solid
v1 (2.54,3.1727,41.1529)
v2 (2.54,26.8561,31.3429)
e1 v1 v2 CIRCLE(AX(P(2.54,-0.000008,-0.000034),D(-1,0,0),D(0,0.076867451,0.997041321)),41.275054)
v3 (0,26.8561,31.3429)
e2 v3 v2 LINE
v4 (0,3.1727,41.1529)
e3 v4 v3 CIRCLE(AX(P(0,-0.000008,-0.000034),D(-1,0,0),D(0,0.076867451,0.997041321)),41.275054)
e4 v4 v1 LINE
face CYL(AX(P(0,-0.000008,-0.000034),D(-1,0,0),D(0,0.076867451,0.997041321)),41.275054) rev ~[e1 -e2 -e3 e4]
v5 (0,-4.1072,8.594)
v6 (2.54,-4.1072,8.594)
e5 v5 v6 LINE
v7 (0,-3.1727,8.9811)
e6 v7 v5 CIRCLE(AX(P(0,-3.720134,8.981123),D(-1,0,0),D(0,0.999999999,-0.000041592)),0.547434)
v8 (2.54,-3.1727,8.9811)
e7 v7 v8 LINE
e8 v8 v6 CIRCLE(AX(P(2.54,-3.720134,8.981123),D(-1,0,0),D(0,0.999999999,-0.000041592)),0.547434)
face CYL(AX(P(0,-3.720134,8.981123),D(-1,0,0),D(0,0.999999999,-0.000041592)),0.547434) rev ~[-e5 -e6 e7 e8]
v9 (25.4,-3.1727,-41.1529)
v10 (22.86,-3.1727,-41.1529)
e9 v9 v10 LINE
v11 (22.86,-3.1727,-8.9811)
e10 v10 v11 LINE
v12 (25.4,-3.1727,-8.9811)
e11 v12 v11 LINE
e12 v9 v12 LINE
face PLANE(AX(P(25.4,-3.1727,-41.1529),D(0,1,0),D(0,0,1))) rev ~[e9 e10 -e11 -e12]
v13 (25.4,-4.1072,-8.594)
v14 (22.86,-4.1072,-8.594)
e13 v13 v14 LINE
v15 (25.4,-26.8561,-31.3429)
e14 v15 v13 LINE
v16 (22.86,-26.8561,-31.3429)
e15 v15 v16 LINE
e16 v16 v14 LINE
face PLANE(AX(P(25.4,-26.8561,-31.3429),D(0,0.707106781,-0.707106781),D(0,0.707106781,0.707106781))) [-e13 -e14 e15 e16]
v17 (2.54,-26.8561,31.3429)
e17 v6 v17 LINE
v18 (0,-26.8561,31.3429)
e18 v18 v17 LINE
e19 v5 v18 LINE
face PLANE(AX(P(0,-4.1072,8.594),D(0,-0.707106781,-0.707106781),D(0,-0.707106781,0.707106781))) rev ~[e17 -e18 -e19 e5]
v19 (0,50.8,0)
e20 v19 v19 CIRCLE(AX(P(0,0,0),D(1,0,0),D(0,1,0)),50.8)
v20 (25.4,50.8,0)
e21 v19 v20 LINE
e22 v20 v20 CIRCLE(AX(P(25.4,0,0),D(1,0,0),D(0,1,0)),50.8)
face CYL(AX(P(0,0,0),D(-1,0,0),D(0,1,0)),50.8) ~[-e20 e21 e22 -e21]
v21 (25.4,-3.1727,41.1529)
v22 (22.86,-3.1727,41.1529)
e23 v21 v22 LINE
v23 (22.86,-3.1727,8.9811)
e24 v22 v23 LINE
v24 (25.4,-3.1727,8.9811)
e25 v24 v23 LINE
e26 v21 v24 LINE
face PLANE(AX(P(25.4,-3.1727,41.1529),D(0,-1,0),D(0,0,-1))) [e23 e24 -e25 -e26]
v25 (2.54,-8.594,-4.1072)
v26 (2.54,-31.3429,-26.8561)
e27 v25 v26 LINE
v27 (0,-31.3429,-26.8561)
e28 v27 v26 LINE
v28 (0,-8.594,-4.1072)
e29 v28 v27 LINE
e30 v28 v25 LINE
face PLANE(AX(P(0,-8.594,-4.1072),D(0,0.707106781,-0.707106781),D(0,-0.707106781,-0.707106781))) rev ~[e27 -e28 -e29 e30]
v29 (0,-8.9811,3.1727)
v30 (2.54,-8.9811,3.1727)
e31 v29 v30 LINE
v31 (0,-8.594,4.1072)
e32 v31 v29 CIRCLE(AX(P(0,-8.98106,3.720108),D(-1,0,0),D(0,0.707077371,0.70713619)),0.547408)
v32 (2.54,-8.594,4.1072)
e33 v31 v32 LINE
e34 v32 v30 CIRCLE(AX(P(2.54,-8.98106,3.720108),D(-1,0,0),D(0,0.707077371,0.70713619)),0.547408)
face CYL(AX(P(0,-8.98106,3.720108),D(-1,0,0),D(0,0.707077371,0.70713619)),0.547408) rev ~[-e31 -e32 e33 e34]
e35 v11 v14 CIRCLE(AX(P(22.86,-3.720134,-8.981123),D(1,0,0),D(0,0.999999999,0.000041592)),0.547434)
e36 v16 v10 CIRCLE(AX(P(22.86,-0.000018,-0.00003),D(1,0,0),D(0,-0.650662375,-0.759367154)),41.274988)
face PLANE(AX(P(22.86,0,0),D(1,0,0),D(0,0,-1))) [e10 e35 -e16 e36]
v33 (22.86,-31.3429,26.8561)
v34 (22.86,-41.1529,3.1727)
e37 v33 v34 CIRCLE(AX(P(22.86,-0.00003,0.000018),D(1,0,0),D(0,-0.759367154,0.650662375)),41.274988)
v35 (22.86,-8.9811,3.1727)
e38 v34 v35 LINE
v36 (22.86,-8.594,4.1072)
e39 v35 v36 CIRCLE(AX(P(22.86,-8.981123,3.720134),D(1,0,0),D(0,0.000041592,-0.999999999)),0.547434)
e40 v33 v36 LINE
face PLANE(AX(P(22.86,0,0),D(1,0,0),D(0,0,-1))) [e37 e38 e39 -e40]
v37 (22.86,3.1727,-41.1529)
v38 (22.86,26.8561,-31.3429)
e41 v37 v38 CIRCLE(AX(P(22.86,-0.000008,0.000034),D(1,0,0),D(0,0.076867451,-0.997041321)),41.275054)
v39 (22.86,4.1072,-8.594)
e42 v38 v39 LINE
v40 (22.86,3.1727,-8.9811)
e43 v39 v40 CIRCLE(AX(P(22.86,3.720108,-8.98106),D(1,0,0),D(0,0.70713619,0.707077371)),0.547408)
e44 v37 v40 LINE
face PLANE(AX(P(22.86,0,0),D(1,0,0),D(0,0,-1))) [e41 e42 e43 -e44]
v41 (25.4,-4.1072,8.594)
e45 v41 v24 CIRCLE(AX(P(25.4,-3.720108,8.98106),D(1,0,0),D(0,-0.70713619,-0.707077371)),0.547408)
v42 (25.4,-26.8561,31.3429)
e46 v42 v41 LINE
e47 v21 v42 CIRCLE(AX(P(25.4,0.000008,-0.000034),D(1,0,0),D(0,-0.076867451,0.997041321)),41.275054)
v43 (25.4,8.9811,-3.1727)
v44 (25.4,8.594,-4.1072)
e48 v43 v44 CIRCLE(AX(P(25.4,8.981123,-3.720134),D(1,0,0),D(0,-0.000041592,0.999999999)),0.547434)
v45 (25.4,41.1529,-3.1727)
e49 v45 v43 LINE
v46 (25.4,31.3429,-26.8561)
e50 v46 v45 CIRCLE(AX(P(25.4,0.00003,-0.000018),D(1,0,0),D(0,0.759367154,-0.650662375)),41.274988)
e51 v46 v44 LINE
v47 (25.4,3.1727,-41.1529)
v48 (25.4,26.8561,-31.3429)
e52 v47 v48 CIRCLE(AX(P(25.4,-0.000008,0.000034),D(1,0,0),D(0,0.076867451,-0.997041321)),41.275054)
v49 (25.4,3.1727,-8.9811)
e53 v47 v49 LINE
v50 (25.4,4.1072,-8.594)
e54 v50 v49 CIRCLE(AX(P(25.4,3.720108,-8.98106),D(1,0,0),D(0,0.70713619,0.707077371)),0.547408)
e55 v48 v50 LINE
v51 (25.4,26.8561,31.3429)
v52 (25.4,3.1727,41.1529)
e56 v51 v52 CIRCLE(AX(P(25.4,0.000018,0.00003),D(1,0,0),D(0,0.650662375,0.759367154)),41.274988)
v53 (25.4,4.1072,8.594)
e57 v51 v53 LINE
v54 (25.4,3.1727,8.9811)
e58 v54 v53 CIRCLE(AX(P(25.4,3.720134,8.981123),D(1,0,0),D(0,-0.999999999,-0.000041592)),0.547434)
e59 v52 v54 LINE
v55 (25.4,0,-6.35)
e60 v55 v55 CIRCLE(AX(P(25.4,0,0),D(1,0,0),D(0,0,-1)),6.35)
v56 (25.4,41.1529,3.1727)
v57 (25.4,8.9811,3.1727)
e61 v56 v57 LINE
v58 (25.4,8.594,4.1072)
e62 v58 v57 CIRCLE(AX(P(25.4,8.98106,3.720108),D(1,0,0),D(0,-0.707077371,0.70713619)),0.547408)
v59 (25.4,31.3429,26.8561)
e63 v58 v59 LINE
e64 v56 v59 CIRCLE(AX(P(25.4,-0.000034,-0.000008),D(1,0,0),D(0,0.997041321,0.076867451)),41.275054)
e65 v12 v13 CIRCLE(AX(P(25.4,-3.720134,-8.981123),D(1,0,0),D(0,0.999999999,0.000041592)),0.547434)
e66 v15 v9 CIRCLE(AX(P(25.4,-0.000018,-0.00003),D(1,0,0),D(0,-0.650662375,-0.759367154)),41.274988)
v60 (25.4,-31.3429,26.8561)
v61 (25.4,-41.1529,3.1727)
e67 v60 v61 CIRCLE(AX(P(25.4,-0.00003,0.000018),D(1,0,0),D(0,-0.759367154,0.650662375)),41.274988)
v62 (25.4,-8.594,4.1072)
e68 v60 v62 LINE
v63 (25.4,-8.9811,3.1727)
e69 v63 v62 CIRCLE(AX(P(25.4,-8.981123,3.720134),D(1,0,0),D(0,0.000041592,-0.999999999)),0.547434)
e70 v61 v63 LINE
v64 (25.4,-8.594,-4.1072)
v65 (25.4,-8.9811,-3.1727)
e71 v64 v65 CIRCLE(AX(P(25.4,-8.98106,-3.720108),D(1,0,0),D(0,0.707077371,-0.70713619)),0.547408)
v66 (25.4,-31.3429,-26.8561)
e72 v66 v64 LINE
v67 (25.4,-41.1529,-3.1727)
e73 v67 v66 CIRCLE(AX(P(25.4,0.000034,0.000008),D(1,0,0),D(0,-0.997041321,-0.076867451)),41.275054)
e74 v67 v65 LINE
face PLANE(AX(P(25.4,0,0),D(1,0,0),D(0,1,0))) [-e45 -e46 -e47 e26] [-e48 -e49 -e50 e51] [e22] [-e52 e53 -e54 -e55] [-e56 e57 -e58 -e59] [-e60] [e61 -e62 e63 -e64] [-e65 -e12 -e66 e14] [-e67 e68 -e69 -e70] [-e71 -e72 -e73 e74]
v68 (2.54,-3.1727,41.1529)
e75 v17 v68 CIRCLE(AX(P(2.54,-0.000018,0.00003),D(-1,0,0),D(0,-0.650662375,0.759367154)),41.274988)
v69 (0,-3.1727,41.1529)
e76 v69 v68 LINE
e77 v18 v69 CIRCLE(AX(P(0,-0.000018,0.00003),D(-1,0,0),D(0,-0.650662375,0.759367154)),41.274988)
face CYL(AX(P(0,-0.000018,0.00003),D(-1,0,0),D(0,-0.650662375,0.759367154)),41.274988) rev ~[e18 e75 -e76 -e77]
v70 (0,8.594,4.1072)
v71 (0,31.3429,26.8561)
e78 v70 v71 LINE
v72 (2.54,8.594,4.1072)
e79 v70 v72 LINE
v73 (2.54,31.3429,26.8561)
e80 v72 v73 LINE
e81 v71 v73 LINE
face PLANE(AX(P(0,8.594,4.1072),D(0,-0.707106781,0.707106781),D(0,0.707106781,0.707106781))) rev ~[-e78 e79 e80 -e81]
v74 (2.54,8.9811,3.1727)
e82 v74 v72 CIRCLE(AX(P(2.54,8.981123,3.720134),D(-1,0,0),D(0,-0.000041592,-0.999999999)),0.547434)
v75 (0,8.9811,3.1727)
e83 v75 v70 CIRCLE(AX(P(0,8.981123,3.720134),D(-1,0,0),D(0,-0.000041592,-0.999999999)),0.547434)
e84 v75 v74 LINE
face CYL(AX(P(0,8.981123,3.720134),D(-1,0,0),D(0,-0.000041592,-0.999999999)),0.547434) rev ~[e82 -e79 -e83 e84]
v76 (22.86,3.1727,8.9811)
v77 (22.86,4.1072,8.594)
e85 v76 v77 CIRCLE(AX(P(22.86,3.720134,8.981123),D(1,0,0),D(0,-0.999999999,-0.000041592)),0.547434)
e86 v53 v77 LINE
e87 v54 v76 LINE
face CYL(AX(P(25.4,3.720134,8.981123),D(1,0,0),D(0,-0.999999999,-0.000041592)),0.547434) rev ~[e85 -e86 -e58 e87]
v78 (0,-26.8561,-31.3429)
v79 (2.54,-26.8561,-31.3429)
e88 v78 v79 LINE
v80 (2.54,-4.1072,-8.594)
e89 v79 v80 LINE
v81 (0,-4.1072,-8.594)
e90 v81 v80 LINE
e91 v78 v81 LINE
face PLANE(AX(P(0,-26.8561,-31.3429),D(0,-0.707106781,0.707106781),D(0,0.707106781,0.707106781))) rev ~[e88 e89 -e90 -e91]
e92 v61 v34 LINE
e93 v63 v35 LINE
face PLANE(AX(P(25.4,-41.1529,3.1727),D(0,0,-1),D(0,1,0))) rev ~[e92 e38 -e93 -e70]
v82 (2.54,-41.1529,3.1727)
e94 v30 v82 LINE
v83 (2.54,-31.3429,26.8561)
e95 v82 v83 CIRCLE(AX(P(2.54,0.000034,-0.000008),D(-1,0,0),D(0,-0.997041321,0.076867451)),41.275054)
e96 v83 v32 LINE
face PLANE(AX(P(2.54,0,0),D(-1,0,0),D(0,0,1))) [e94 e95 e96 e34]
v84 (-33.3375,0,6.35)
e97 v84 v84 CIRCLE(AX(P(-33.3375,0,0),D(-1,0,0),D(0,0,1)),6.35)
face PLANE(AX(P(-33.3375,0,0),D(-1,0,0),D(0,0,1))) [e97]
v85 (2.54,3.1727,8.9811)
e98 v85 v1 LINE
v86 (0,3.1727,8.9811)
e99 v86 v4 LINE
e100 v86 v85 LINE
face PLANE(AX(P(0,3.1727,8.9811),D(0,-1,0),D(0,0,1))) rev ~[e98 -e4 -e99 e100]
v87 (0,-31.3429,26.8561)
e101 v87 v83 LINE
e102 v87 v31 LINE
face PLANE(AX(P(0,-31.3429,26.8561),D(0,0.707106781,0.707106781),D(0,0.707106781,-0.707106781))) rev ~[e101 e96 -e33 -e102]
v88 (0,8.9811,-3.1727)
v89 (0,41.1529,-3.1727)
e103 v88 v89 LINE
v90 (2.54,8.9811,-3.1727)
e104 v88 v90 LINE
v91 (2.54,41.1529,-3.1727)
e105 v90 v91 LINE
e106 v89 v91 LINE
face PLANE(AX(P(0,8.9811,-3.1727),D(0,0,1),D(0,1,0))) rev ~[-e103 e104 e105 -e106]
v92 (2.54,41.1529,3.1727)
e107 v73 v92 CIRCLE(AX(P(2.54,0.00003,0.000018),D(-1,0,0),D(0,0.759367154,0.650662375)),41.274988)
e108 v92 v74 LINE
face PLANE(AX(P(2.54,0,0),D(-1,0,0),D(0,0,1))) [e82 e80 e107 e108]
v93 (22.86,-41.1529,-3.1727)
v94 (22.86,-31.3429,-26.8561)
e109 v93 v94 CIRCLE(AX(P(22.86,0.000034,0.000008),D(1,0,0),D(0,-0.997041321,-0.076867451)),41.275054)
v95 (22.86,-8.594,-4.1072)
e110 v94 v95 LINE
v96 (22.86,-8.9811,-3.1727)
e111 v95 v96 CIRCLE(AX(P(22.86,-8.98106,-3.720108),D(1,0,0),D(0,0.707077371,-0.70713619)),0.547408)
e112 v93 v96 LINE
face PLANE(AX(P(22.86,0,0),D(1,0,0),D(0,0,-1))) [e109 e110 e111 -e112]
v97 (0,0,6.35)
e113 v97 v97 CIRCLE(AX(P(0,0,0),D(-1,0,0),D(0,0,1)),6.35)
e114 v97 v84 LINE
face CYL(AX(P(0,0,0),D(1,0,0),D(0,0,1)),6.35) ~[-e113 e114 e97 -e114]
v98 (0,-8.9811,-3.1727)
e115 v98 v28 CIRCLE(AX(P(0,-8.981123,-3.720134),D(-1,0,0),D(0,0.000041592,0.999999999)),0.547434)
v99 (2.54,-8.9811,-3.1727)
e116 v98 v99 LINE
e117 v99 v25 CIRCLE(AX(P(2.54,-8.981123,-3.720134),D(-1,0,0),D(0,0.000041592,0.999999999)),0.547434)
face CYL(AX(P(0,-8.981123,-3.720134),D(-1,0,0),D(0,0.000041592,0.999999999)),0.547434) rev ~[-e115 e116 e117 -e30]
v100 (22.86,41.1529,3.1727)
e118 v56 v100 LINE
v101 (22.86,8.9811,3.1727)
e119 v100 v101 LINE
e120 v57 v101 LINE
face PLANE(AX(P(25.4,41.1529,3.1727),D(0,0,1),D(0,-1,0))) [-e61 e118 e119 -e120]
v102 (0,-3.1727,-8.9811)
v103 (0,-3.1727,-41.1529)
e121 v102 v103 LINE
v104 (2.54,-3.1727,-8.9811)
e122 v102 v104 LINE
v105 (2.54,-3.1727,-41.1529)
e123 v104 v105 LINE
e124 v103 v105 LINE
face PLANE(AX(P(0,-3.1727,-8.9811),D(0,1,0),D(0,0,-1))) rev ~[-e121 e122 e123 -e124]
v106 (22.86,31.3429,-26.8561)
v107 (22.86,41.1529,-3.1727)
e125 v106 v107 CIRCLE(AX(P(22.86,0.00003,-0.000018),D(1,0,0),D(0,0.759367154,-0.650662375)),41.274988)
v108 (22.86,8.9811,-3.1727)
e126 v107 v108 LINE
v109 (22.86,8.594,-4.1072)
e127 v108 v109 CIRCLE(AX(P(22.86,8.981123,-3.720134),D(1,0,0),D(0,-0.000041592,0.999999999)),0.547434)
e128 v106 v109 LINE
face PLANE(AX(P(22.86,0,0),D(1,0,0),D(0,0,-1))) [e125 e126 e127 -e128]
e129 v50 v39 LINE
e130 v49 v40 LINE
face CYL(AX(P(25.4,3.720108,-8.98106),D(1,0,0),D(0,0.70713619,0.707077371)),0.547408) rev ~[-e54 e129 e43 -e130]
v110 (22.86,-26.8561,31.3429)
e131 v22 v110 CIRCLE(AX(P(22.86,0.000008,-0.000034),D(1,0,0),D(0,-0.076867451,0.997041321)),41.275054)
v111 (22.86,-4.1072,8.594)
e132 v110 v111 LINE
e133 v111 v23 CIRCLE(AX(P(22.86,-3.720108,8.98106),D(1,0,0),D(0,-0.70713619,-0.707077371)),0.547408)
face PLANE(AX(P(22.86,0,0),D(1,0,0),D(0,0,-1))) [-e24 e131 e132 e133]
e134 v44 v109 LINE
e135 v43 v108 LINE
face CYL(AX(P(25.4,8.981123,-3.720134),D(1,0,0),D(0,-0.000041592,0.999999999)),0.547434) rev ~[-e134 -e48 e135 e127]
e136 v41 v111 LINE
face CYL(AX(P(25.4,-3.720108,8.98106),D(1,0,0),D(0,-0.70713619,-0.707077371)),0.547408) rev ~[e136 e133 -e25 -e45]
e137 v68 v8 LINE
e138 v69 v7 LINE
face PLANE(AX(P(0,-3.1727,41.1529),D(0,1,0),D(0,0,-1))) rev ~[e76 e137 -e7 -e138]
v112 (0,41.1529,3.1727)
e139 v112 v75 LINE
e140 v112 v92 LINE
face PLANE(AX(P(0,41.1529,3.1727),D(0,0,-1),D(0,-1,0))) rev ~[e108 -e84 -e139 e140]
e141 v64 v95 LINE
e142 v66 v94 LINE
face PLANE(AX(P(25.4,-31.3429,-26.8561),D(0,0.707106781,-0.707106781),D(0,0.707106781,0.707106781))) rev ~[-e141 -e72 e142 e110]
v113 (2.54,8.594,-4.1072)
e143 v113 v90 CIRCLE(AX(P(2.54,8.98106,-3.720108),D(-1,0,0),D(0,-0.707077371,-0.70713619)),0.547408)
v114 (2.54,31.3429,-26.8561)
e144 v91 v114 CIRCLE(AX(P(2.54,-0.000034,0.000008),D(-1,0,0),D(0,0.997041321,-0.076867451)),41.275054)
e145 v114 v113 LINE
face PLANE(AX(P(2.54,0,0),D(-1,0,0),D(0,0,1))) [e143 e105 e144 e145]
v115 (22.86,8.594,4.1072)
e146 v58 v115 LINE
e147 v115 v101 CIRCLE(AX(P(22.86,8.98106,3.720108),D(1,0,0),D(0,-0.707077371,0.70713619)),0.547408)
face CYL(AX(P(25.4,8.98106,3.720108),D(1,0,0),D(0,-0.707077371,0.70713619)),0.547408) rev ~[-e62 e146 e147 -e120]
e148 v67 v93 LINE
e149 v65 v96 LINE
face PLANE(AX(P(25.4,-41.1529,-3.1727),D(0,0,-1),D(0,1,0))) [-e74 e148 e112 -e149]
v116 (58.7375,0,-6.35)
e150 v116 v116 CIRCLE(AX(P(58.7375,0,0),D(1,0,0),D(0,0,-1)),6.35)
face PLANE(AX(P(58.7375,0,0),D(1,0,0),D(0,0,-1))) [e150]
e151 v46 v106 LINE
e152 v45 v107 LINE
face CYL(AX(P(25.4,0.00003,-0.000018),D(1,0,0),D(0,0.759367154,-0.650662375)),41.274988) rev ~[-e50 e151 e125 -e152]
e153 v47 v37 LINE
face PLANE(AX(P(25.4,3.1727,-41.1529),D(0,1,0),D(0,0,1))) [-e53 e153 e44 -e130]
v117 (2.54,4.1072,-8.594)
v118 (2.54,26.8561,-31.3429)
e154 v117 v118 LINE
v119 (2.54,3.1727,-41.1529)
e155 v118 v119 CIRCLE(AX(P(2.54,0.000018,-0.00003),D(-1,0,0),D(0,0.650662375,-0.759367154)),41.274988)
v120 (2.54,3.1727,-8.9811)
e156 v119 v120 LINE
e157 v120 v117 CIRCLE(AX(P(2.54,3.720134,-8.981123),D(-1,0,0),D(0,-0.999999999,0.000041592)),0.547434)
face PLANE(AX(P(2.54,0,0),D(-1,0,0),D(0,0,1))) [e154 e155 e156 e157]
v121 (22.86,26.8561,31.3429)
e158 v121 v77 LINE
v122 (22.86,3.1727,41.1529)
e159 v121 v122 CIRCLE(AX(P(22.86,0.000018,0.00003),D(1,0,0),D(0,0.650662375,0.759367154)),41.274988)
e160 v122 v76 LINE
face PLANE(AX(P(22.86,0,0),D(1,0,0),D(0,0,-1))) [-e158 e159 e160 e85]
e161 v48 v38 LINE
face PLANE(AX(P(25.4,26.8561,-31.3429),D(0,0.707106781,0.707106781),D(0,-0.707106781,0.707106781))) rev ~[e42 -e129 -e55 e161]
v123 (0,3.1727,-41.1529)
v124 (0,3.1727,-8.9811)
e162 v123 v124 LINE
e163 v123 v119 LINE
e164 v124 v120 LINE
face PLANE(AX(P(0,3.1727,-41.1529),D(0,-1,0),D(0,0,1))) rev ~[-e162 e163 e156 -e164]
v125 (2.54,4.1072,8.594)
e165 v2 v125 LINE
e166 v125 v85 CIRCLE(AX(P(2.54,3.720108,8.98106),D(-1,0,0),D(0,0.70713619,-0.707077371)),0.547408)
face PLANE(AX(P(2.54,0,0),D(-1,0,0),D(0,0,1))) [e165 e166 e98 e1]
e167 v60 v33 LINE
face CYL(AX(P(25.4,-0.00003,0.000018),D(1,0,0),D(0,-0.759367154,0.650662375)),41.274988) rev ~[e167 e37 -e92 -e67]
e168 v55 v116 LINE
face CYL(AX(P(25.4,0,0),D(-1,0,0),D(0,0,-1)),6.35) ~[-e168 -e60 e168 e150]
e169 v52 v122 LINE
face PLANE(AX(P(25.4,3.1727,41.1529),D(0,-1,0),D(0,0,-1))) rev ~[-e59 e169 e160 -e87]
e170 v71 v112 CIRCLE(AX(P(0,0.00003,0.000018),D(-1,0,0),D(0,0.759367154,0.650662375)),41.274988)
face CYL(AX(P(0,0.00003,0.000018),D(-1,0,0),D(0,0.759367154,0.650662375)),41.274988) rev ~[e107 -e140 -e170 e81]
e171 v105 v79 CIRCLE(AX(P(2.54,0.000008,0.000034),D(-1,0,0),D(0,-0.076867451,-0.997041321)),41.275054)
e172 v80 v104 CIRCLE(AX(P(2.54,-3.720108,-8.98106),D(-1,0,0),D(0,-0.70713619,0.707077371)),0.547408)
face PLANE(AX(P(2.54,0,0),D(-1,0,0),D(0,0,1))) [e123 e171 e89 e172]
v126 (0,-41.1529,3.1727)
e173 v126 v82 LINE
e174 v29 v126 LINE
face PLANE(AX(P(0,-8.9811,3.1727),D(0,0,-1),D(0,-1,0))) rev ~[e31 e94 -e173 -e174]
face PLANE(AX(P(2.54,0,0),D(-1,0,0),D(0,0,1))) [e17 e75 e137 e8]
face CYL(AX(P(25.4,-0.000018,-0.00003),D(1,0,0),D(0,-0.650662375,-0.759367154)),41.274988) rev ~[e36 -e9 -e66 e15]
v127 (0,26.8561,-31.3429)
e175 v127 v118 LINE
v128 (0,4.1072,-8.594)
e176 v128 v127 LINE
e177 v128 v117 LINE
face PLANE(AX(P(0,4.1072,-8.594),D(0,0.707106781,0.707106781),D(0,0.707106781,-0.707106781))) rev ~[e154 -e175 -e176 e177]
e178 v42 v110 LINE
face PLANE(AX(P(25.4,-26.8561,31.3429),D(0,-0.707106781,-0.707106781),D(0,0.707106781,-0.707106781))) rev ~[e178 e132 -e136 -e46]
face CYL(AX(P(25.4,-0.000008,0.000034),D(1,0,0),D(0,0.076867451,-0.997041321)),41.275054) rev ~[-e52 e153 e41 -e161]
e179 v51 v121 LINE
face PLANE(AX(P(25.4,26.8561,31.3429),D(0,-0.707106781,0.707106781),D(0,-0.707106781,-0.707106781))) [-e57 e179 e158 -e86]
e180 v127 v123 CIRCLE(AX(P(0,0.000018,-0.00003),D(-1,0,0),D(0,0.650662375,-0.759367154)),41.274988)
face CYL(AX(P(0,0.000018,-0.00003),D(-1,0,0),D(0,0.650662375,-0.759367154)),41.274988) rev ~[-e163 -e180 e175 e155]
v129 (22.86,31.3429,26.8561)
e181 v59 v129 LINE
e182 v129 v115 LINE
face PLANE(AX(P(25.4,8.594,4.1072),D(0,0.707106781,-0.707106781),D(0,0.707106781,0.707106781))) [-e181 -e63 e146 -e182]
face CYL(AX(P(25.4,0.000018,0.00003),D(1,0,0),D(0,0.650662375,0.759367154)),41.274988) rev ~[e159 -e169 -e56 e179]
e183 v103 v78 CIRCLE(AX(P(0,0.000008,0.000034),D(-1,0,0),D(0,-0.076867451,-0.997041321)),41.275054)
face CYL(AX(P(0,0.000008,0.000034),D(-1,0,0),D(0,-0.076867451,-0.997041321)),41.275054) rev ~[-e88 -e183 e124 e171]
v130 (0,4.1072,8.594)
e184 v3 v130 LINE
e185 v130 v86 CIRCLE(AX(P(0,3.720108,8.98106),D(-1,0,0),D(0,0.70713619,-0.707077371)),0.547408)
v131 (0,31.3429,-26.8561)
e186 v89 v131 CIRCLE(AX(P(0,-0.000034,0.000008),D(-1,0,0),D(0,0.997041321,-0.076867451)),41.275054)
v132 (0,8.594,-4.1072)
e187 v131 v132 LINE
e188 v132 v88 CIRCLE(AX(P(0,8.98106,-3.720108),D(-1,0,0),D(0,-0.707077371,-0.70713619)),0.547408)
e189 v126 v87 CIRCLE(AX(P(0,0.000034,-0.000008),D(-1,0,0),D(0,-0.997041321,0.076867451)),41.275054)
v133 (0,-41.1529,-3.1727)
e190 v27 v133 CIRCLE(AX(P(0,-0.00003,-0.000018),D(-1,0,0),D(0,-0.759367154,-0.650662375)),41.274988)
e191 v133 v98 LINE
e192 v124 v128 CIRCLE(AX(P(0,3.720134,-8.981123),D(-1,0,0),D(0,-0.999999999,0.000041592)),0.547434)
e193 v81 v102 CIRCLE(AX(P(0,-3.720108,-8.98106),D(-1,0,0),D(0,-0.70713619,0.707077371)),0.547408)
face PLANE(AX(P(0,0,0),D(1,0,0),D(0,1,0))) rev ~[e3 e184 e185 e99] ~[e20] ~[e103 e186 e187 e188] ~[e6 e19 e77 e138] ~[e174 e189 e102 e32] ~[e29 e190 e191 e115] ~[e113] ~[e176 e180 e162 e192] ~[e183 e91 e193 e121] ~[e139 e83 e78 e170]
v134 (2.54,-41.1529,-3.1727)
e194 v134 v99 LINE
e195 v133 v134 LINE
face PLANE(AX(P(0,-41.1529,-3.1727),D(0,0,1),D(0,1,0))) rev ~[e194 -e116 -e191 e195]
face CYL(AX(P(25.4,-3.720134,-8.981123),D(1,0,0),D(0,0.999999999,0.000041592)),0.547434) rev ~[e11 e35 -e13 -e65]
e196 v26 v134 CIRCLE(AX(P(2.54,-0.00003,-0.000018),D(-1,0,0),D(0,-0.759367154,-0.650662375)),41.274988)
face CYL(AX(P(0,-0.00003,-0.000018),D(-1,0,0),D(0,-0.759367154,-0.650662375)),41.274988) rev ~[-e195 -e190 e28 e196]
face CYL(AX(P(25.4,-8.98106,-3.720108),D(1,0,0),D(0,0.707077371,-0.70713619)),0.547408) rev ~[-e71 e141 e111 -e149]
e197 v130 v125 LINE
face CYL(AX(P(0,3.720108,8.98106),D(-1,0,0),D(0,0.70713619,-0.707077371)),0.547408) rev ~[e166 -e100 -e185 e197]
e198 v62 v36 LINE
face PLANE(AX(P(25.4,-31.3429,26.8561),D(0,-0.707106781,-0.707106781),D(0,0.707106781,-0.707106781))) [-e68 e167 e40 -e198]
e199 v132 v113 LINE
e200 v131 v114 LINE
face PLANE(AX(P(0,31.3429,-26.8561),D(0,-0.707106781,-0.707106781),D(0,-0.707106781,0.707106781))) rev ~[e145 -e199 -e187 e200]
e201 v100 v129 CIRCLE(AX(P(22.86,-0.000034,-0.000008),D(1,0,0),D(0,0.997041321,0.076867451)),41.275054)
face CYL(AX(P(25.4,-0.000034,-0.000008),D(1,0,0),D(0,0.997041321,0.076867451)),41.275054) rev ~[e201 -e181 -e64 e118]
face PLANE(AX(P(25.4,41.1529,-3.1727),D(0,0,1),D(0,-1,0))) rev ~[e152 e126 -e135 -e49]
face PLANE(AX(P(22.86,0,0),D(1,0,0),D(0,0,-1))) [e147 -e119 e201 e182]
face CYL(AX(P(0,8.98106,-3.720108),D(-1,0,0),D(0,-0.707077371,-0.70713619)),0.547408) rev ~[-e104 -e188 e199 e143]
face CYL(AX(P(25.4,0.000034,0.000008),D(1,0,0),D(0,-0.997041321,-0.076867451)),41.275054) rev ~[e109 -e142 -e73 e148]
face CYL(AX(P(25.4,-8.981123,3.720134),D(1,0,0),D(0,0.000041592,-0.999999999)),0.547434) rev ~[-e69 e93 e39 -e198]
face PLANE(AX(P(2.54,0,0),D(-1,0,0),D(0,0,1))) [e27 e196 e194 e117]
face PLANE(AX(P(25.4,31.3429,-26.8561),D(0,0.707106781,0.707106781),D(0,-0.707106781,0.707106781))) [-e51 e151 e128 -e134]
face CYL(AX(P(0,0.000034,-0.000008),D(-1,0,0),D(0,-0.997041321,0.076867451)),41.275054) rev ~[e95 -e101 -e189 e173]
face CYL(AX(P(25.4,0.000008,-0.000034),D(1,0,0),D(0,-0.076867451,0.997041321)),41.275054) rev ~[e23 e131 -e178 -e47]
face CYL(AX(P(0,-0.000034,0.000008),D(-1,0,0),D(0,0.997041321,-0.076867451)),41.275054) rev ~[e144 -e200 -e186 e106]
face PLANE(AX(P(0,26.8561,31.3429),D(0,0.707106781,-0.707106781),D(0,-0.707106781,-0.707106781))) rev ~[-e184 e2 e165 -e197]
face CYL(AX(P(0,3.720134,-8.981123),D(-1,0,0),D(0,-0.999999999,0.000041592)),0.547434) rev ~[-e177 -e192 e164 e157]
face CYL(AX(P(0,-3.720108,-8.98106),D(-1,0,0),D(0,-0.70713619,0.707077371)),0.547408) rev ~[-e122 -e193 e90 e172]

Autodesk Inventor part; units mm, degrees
ref_plane "YZ Plane" through (0, 0, 0) normal (1, 0, 0) x (0, 1, 0)
ref_plane "XZ Plane" through (0, 0, 0) normal (0, 1, 0) x (-1, 0, 0)
ref_plane "XY Plane" through (0, 0, 0) normal (0, 0, 1) x (1, 0, 0)
sketch "Sketch1" plane through (0, 0, 0) normal (1, 0, 0) x (0, 1, 0)
  circle A0 centre (0, 0) radius 50.8
  dimension "d0" = 101.6
extrude "Extrusion1" add sketch "Sketch1" along normal blind 25.4
sketch "Sketch2" plane through (25.4, 0, 0) normal (1, 0, 0) x (0, 0, -1)
  circle A0 centre (0, 0) radius 6.35
  dimension "d4" = 12.7
extrude "Extrusion2" add sketch "Sketch2" along normal blind 33.3375
sketch "Sketch3" plane through (0, 0, 0) normal (-1, 0, 0) x (0, 0, 1)
  circle A0 centre (0, 0) radius 6.35
extrude "Extrusion3" add sketch "Sketch3" along normal blind 33.3375
sketch "Sketch5" plane through (25.4, 0, 0) normal (1, 0, 0) x (0, 0, -1)
  circle A0 centre (0, 0) radius 44.45
  arc A1 (31.3429, -26.8561) -> (41.1529, -3.1727) centre (0, 0) ccw
  line L0 (0, 0) -> (82.55, 0) construction
  line L1 (41.1529, -3.1727) -> (8.9811, -3.1727)
  line L2 (31.3429, -26.8561) -> (82.1429, -26.8561) construction
  line L3 (31.3429, -26.8561) -> (8.594, -4.1072)
  line L4 (-4.1072, 8.594) -> (-4.5781, 9.0649)
  arc A2 (8.9811, -3.1727) -> (8.594, -4.1072) centre (8.9811, -3.7201) ccw
  arc A3 (41.1529, 3.1727) -> (31.3429, 26.8561) centre (0, 0) ccw
  line L5 (31.3429, 26.8561) -> (8.594, 4.1072)
  line L6 (41.1529, 3.1727) -> (8.9811, 3.1727)
  arc A4 (8.594, 4.1072) -> (8.9811, 3.1727) centre (8.9811, 3.7201) ccw
  arc A5 (26.8561, 31.3429) -> (3.1727, 41.1529) centre (0, 0) ccw
  line L7 (3.1727, 41.1529) -> (3.1727, 8.9811)
  line L8 (26.8561, 31.3429) -> (4.1072, 8.594)
  arc A6 (3.1727, 8.9811) -> (4.1072, 8.594) centre (3.7201, 8.9811) ccw
  arc A7 (-3.1727, 41.1529) -> (-26.8561, 31.3429) centre (0, 0) ccw
  line L9 (-26.8561, 31.3429) -> (-4.1072, 8.594)
  line L10 (-3.1727, 41.1529) -> (-3.1727, 8.9811)
  arc A8 (-4.1072, 8.594) -> (-3.1727, 8.9811) centre (-3.7201, 8.9811) ccw
  arc A9 (-31.3429, 26.8561) -> (-41.1529, 3.1727) centre (0, 0) ccw
  line L11 (-41.1529, 3.1727) -> (-8.9811, 3.1727)
  line L12 (-31.3429, 26.8561) -> (-8.594, 4.1072)
  arc A10 (-8.9811, 3.1727) -> (-8.594, 4.1072) centre (-8.9811, 3.7201) ccw
  arc A11 (-41.1529, -3.1727) -> (-31.3429, -26.8561) centre (0, 0) ccw
  line L13 (-31.3429, -26.8561) -> (-8.594, -4.1072)
  line L14 (-41.1529, -3.1727) -> (-8.9811, -3.1727)
  arc A12 (-8.594, -4.1072) -> (-8.9811, -3.1727) centre (-8.9811, -3.7201) ccw
  arc A13 (-26.8561, -31.3429) -> (-3.1727, -41.1529) centre (0, 0) ccw
  line L15 (-3.1727, -41.1529) -> (-3.1727, -8.9811)
  line L16 (-26.8561, -31.3429) -> (-4.1072, -8.594)
  arc A14 (-3.1727, -8.9811) -> (-4.1072, -8.594) centre (-3.7201, -8.9811) ccw
  arc A15 (3.1727, -41.1529) -> (26.8561, -31.3429) centre (0, 0) ccw
  line L17 (26.8561, -31.3429) -> (4.1072, -8.594)
  line L18 (3.1727, -41.1529) -> (3.1727, -8.9811)
  arc A16 (4.1072, -8.594) -> (3.1727, -8.9811) centre (3.7201, -8.9811) ccw
  dimension "d12" = 88.9
  dimension "d13" = 82.55
  dimension "d24" = 360
extrude "Extrusion5" cut sketch "Sketch5" against normal blind 2.54 contours L3 A2 L1 A1 | L4 L9 A7 L10 A8 | L6 A4 L5 A3 | L8 A6 L7 A5 | L12 A10 L11 A9 | L14 A12 L13 A11 | L16 A14 L15 A13 | L18 A16 L17 A15
sketch "Sketch6" plane through (0, 0, 0) normal (-1, 0, 0) x (0, 0, 1)
  circle A0 centre (0, 0) radius 44.45
  arc A1 (-31.3429, 26.8561) -> (-41.1529, 3.1727) centre (0, 0) ccw
  line L0 (-8.594, 4.1072) -> (-31.3429, 26.8561) projected
  line L1 (-41.1529, 3.1727) -> (-8.9811, 3.1727)
  line L2 (-41.1529, 3.1727) -> (-8.9811, 3.1727) projected
  line L3 (-8.594, 4.1072) -> (-31.3429, 26.8561)
  arc A2 (-8.9811, 3.1727) -> (-8.594, 4.1072) centre (-8.9811, 3.7201) ccw
  arc A3 (-41.1529, -3.1727) -> (-31.3429, -26.8561) centre (0, 0) ccw
  line L4 (-31.3429, -26.8561) -> (-8.594, -4.1072)
  line L5 (-8.9811, -3.1727) -> (-41.1529, -3.1727)
  arc A4 (-8.594, -4.1072) -> (-8.9811, -3.1727) centre (-8.9811, -3.7201) ccw
  arc A5 (-26.8561, -31.3429) -> (-3.1727, -41.1529) centre (0, 0) ccw
  line L6 (-3.1727, -41.1529) -> (-3.1727, -8.9811)
  line L7 (-4.1072, -8.594) -> (-26.8561, -31.3429)
  arc A6 (-3.1727, -8.9811) -> (-4.1072, -8.594) centre (-3.7201, -8.9811) ccw
  arc A7 (3.1727, -41.1529) -> (26.8561, -31.3429) centre (0, 0) ccw
  line L8 (26.8561, -31.3429) -> (4.1072, -8.594)
  line L9 (3.1727, -8.9811) -> (3.1727, -41.1529)
  arc A8 (4.1072, -8.594) -> (3.1727, -8.9811) centre (3.7201, -8.9811) ccw
  arc A9 (31.3429, -26.8561) -> (41.1529, -3.1727) centre (0, 0) ccw
  line L10 (41.1529, -3.1727) -> (8.9811, -3.1727)
  line L11 (8.594, -4.1072) -> (31.3429, -26.8561)
  arc A10 (8.9811, -3.1727) -> (8.594, -4.1072) centre (8.9811, -3.7201) ccw
  arc A11 (41.1529, 3.1727) -> (31.3429, 26.8561) centre (0, 0) ccw
  line L12 (31.3429, 26.8561) -> (8.594, 4.1072)
  line L13 (8.9811, 3.1727) -> (41.1529, 3.1727)
  arc A12 (8.594, 4.1072) -> (8.9811, 3.1727) centre (8.9811, 3.7201) ccw
  arc A13 (26.8561, 31.3429) -> (3.1727, 41.1529) centre (0, 0) ccw
  line L14 (3.1727, 41.1529) -> (3.1727, 8.9811)
  line L15 (4.1072, 8.594) -> (26.8561, 31.3429)
  arc A14 (3.1727, 8.9811) -> (4.1072, 8.594) centre (3.7201, 8.9811) ccw
  arc A15 (-3.1727, 41.1529) -> (-26.8561, 31.3429) centre (0, 0) ccw
  line L16 (-26.8561, 31.3429) -> (-4.1072, 8.594)
  line L17 (-3.1727, 8.9811) -> (-3.1727, 41.1529)
  arc A16 (-4.1072, 8.594) -> (-3.1727, 8.9811) centre (-3.7201, 8.9811) ccw
  dimension "d28" = 88.9
  dimension "d32" = 360
extrude "Extrusion6" cut sketch "Sketch6" against normal blind 2.54 contours L0 A2 L1 A1 | L5 A4 L4 A3 | L7 A6 L6 A5 | L9 A8 L8 A7 | L11 A10 L10 A9 | L13 A12 L12 A11 | L15 A14 L14 A13 | L17 A16 L16 A15
properties part number "Wheel"
